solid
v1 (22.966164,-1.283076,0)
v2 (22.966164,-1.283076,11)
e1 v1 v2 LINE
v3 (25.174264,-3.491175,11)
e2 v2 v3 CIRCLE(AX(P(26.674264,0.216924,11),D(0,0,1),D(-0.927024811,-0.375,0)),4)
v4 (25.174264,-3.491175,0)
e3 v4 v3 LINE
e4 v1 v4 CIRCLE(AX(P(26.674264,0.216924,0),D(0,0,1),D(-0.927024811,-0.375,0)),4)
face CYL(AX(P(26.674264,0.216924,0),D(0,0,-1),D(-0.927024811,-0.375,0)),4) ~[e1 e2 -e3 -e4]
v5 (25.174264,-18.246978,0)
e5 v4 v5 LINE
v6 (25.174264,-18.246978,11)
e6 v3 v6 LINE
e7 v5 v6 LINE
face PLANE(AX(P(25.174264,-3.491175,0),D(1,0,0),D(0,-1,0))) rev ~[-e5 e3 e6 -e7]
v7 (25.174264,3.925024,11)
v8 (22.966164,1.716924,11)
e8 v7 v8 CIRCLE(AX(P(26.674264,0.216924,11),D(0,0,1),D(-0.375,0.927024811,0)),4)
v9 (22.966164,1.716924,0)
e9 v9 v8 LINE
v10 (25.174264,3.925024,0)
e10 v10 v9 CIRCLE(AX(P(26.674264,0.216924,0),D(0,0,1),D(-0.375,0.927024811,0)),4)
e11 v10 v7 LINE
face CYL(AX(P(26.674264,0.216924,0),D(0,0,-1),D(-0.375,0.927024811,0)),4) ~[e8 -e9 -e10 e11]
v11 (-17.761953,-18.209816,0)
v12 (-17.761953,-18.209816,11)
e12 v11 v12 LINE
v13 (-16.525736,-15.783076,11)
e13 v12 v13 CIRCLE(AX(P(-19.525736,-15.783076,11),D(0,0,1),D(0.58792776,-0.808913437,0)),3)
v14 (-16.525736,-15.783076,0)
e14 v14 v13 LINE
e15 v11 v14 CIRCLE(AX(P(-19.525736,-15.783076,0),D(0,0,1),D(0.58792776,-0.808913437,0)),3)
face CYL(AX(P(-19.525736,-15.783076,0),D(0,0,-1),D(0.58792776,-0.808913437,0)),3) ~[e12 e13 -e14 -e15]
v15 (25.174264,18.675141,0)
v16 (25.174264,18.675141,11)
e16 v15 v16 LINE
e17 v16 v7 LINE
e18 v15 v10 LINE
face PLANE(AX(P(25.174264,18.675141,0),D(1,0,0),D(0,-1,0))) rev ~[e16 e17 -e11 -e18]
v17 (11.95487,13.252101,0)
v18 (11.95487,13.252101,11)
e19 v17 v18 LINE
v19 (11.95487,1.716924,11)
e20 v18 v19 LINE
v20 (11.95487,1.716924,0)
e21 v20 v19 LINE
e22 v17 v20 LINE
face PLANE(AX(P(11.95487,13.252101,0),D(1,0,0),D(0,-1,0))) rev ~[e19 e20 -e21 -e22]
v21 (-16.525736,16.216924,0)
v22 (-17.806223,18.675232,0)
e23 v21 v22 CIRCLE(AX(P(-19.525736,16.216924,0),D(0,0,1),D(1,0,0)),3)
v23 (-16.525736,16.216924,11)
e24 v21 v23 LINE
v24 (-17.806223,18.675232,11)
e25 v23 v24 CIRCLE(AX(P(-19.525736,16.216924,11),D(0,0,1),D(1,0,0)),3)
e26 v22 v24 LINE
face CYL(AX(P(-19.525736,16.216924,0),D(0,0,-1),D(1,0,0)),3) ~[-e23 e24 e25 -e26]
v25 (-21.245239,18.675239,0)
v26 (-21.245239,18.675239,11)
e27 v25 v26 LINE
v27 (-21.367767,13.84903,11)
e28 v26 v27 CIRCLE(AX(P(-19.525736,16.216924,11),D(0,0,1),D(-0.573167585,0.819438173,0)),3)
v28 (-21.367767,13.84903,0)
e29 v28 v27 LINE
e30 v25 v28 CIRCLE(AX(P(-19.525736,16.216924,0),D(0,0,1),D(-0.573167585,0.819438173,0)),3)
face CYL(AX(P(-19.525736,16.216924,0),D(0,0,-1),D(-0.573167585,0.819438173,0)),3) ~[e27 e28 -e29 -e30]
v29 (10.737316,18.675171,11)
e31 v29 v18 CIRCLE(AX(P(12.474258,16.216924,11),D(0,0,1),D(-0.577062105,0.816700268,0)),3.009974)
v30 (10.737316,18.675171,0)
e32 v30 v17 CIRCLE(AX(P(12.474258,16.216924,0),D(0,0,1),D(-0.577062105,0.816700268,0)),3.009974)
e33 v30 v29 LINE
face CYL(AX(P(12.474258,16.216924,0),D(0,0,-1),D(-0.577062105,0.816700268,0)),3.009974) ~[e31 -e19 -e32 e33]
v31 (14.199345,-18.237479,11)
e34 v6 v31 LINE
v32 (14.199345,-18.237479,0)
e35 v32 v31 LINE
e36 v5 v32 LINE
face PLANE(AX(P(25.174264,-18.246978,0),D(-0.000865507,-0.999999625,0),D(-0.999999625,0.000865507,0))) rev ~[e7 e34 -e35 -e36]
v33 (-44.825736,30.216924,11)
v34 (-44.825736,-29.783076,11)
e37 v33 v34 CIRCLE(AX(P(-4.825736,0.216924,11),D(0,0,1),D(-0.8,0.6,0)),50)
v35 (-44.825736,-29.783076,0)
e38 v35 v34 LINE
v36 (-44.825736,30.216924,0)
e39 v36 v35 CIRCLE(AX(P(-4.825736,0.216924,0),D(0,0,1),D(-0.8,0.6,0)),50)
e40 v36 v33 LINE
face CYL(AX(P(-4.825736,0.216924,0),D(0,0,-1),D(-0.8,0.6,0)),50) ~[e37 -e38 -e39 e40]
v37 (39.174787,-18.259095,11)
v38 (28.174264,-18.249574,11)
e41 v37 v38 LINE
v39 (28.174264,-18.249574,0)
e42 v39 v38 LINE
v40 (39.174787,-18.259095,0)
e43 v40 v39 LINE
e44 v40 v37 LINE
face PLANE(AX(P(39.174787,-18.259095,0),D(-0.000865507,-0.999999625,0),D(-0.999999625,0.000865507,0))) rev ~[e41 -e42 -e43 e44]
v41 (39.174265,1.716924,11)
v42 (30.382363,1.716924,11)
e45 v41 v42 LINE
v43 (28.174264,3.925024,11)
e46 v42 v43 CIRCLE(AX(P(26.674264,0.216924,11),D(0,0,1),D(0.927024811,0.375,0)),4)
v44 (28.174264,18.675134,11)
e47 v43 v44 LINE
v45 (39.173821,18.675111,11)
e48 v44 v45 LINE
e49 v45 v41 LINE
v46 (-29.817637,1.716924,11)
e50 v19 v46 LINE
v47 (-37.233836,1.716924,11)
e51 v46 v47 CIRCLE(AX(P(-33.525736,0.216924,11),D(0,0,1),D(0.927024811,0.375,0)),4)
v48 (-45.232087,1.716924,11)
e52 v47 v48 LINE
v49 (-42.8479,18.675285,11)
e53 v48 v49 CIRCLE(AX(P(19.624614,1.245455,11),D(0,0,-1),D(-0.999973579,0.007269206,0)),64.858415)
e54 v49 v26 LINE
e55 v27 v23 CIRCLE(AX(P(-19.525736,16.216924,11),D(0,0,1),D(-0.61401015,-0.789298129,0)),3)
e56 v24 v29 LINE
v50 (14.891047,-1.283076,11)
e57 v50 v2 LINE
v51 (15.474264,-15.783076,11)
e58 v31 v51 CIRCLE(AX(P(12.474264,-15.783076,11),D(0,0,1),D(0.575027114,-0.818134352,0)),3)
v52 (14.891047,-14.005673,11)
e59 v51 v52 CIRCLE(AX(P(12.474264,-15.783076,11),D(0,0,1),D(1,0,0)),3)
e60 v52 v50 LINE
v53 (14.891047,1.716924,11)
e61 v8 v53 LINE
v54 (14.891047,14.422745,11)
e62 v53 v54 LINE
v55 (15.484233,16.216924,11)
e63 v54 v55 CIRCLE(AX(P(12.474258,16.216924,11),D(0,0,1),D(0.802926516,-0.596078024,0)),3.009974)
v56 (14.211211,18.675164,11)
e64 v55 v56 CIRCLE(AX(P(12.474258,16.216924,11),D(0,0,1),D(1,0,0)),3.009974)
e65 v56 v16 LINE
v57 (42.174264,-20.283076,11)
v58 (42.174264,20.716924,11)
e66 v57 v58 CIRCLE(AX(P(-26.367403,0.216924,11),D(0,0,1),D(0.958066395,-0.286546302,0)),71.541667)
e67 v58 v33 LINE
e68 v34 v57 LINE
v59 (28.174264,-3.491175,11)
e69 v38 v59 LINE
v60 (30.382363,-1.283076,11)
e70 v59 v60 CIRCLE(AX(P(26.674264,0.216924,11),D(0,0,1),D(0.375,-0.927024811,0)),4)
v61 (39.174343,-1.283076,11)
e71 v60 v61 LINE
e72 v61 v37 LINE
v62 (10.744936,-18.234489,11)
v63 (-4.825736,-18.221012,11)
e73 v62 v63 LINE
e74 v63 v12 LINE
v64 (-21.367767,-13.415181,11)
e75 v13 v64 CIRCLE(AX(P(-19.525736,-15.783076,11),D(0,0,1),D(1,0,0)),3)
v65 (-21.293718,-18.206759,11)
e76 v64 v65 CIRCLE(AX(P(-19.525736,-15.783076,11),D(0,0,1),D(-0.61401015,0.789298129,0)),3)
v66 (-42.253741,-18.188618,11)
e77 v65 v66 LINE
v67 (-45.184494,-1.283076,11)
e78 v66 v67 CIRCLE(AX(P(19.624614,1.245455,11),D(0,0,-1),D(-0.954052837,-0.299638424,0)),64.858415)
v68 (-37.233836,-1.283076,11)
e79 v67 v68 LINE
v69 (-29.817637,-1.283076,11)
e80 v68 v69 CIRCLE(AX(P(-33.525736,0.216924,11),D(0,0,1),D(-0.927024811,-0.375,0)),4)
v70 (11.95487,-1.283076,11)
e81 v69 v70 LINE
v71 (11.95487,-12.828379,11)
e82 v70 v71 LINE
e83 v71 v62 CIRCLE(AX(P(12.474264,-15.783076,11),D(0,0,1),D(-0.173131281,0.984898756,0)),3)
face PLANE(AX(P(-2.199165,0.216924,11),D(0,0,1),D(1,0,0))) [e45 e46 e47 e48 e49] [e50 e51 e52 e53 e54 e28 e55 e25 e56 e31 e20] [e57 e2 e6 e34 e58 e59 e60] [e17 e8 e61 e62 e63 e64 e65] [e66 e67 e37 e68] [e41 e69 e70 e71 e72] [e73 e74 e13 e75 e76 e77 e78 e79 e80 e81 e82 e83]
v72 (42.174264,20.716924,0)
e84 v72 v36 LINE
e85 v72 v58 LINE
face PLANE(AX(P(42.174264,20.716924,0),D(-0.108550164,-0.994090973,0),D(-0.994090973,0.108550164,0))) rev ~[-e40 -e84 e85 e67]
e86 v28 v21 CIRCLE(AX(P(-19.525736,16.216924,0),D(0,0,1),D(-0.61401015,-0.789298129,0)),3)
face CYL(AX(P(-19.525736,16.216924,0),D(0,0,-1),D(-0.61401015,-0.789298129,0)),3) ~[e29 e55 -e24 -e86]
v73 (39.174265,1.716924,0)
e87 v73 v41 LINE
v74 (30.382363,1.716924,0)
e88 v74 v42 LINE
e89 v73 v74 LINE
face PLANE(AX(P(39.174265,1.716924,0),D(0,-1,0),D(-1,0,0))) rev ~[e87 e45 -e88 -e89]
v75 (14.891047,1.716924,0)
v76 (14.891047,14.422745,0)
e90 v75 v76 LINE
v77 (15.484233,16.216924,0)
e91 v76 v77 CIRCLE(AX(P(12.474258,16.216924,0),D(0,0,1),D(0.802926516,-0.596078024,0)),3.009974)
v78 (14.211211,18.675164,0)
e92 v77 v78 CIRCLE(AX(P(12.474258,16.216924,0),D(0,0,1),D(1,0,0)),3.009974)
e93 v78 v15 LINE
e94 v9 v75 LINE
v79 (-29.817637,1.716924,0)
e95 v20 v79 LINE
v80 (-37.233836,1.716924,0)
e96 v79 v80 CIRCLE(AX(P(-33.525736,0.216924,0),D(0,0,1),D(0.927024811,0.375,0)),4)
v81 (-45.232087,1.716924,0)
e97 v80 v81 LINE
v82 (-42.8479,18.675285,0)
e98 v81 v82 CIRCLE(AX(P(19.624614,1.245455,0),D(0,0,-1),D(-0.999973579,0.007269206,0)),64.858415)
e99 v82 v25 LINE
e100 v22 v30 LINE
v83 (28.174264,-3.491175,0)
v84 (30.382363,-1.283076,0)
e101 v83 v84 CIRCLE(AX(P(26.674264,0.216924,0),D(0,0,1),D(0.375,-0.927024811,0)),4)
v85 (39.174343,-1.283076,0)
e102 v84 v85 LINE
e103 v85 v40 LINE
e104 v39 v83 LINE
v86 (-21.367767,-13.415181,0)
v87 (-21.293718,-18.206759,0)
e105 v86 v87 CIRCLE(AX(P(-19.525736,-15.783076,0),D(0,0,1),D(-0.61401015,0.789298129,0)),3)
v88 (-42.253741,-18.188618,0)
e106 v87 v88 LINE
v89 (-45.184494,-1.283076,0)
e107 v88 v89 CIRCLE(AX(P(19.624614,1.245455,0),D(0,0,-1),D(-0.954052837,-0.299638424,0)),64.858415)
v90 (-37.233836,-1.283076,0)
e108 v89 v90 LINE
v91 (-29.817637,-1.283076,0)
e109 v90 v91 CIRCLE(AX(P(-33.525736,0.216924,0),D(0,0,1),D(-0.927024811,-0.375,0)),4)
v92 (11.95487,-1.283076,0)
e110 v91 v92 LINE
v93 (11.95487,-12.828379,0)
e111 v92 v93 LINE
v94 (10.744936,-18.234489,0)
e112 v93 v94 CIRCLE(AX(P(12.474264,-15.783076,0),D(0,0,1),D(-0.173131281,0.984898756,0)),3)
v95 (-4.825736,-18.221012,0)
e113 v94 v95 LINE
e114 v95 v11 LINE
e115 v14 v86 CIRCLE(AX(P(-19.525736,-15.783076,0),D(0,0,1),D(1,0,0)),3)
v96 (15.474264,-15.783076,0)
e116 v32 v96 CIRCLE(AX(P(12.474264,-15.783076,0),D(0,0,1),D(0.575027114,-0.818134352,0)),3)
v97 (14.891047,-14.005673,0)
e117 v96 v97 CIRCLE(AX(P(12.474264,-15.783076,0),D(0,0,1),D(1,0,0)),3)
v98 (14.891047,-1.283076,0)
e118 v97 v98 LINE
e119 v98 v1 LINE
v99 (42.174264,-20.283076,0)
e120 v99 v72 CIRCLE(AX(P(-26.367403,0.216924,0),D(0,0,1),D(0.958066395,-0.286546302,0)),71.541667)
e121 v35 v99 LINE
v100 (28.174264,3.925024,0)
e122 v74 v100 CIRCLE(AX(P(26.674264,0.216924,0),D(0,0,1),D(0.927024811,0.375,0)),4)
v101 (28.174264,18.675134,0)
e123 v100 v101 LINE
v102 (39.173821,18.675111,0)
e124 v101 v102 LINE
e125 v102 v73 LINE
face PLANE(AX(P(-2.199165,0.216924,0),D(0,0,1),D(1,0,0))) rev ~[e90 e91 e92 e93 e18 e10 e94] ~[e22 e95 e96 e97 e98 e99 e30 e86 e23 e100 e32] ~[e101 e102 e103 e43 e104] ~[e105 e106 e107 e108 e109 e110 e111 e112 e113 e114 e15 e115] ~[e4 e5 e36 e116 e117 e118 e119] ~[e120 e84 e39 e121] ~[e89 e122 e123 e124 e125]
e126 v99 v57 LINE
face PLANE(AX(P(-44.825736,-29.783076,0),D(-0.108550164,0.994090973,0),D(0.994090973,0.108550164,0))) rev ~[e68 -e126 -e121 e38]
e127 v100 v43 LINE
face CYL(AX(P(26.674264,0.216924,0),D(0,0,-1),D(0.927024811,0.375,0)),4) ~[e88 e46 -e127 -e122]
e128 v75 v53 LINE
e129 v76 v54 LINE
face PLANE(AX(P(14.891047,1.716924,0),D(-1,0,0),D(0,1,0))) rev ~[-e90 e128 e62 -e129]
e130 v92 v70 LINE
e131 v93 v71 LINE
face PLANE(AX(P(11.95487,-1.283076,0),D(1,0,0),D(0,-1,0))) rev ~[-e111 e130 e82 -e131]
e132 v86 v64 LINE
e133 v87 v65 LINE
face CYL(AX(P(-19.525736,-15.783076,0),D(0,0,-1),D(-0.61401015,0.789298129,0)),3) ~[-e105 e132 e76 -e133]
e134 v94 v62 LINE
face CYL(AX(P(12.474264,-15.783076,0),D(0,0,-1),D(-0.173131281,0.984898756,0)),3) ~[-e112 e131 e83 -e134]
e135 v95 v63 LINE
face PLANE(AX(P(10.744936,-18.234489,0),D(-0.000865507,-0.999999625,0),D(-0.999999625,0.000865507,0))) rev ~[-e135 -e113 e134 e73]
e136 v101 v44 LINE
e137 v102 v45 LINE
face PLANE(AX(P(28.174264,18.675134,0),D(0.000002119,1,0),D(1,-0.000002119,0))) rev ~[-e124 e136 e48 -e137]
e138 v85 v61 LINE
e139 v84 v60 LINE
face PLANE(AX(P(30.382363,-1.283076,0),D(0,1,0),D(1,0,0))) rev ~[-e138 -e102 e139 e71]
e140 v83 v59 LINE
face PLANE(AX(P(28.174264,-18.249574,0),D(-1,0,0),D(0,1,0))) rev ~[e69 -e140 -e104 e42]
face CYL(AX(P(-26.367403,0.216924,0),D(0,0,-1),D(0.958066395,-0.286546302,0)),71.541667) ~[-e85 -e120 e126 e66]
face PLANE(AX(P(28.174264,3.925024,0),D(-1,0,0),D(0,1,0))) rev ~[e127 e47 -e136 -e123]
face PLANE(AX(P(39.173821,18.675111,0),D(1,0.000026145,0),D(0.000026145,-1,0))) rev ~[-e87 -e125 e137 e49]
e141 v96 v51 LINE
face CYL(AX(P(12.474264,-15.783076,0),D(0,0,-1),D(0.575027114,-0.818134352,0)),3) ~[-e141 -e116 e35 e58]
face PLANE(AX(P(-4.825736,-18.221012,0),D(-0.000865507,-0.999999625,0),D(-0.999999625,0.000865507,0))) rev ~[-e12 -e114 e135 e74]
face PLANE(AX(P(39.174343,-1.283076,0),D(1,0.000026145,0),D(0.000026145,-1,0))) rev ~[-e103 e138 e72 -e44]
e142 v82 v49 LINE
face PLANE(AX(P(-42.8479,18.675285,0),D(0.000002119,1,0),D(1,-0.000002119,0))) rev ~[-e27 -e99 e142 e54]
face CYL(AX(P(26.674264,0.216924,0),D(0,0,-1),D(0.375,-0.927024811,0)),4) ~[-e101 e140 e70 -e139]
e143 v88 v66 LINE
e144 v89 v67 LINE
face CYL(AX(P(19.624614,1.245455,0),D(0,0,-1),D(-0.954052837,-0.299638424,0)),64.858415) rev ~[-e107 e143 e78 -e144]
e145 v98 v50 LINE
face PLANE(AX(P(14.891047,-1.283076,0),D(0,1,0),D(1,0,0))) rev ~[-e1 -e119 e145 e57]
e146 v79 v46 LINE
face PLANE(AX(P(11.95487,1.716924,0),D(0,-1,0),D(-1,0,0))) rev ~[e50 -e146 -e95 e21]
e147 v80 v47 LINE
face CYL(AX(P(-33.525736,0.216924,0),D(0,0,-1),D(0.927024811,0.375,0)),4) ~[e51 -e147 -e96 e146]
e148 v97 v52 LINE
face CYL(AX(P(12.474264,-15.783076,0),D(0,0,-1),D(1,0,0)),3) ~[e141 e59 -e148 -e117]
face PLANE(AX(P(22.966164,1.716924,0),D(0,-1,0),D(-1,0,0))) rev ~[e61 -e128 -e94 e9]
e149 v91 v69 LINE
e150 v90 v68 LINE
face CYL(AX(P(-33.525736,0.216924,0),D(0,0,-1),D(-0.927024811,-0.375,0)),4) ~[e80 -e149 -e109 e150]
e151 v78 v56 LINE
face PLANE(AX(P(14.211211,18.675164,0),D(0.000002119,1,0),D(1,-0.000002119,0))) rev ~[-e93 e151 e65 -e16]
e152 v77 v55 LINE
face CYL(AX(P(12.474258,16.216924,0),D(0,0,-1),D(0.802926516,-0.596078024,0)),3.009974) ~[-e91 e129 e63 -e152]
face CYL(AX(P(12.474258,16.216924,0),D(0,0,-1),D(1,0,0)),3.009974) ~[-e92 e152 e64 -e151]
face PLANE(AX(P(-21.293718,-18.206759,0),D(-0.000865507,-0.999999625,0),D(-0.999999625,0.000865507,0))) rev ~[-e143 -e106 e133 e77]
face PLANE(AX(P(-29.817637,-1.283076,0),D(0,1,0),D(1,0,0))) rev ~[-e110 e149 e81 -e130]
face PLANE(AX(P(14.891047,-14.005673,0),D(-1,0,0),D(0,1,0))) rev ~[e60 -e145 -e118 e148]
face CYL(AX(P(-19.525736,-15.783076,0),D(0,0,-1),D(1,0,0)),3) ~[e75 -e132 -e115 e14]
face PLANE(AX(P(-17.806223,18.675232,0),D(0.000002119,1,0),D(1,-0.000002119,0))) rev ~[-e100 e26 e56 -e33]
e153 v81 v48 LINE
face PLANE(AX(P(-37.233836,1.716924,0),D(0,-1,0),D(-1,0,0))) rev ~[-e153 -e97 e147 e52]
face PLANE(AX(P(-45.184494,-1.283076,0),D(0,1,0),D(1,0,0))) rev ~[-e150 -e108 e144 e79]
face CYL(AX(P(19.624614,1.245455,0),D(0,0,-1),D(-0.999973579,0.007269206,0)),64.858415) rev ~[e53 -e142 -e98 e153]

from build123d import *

# Parameters (mm, degrees)
F0_W     = 16.7806061562
F0_H     = 3
F0_R     = 1.3
F0_W_2   = 2.9361768566
F1_DEPTH = 11


with BuildPart() as f1:
    # F0 (on Top) → F1 (new body)
    with BuildSketch(Plane.XY):
        with BuildLine():
            ThreePointArc((-45.8257364572, 20.7169244225), (-48.8257364572, 0.2169244225), (-45.8257364572, -20.2830755775))
            Line((-45.8257364572, -20.2830755775), (42.1742635428, -20.2830755775))
            Line((42.1742635428, -20.2830755775), (42.1742635428, 20.7169244225))
            Line((42.1742635428, 20.7169244225), (-45.8257364572, 20.7169244225))
        make_face()
        with BuildLine():
            Line((28.1742635428, -18.2495740318), (25.1742635428, -18.2469775091))
            Line((25.1742635428, -18.2469775091), (14.1993448848, -18.237478634))
            ThreePointArc((14.1993448848, -18.237478634), (12.4716670211, -18.7830744539), (10.7449361797, -18.2344888171))
            Line((10.7449361797, -18.2344888171), (-4.8257364572, -18.2210122822))
            Line((-4.8257364572, -18.2210122822), (-17.7619531763, -18.2098158887))
            ThreePointArc((-17.7619531763, -18.2098158887), (-19.5283329789, -18.7830744539), (-21.2937178166, -18.2067591197))
            Line((-21.2937178166, -18.2067591197), (-42.2537405073, -18.1886180616))
            ThreePointArc((-42.2537405073, -18.1886180616), (-44.2806098516, -9.8331874592), (-45.1844940816, -1.2830755775))
            ThreePointArc((-45.1844940816, -1.2830755775), (-45.2256405593, 0.2166491767), (-45.2320870806, 1.7169244225))
            ThreePointArc((-45.2320870806, 1.7169244225), (-44.6021619414, 10.2751402015), (-42.8478999843, 18.6752847233))
            Line((-42.8478999843, 18.6752847233), (-21.2452392134, 18.6752389409))
            ThreePointArc((-21.2452392134, 18.6752389409), (-19.5257300993, 19.2169244225), (-17.8062232813, 18.6752316526))
            Line((-17.8062232813, 18.6752316526), (-4.8257364572, 18.6752041432))
            Line((-4.8257364572, 18.6752041432), (10.7373164071, 18.6751711606))
            ThreePointArc((10.7373164071, 18.6751711606), (12.4742648349, 19.226898626), (14.2112109241, 18.6751637984))
            Line((14.2112109241, 18.6751637984), (25.1742635428, 18.6751405645))
            Line((25.1742635428, 18.6751405645), (28.1742635428, 18.6751342066))
            Line((28.1742635428, 18.6751342066), (39.1738213035, 18.6751108953))
            Line((39.1738213035, 18.6751108953), (39.1742646816, 1.7169244225))
            Line((39.1742646816, 1.7169244225), (39.1743431177, -1.2830755775))
            Line((39.1743431177, -1.2830755775), (39.174786962, -18.259095068))
            Line((39.174786962, -18.259095068), (28.1742635428, -18.2495740318))
        make_face(mode=Mode.SUBTRACT)
        with BuildLine():
            Line((42.1742635428, -20.2830755775), (-45.8257364572, -20.2830755775))
            ThreePointArc((-45.8257364572, -20.2830755775), (-48.8257364572, 0.2169244225), (-45.8257364572, 20.7169244225))
            Line((-45.8257364572, 20.7169244225), (42.1742635428, 20.7169244225))
            Line((42.1742635428, 20.7169244225), (-44.8257364572, 30.2169244225))
            ThreePointArc((-44.8257364572, 30.2169244225), (-54.8257364572, 0.2169244225), (-44.8257364572, -29.7830755775))
            Line((-44.8257364572, -29.7830755775), (42.1742635428, -20.2830755775))
        make_face()
        with BuildLine():
            Line((42.1742635428, 20.7169244225), (42.1742635428, -20.2830755775))
            ThreePointArc((42.1742635428, -20.2830755775), (45.1742635428, 0.2169244225), (42.1742635428, 20.7169244225))
        make_face()
        with BuildLine():
            Line((-21.3677669063, -1.2830755775), (-4.8257364572, -1.2830755775))
            Line((-4.8257364572, -1.2830755775), (-4.8257364572, 1.7169244225))
            Line((-4.8257364572, 1.7169244225), (-21.3677669063, 1.7169244225))
            Line((-21.3677669063, 1.7169244225), (-29.8176372136, 1.7169244225))
            ThreePointArc((-29.8176372136, 1.7169244225), (-29.5993897472, 0.9809934723), (-29.5257364572, 0.2169244225))
            ThreePointArc((-29.5257364572, 0.2169244225), (-29.5993897472, -0.5471446273), (-29.8176372136, -1.2830755775))
            Line((-29.8176372136, -1.2830755775), (-21.3677669063, -1.2830755775))
        make_face()
        with Locations((3.5645666209, 0.2169244225)):
            Rectangle(F0_W, F0_H)
        with BuildLine():
            Line((25.1742635428, -3.4911748211), (25.1742635428, -18.2469775091))
            Line((25.1742635428, -18.2469775091), (28.1742635428, -18.2495740318))
            Line((28.1742635428, -18.2495740318), (28.1742635428, -3.4911748211))
            ThreePointArc((28.1742635428, -3.4911748211), (26.6742635428, -3.7830755775), (25.1742635428, -3.4911748211))
        make_face()
        with BuildLine():
            Line((25.1742635428, 18.6751405645), (25.1742635428, 3.925023666))
            ThreePointArc((25.1742635428, 3.925023666), (26.6742635428, 4.2169244225), (28.1742635428, 3.925023666))
            Line((28.1742635428, 3.925023666), (28.1742635428, 18.6751342066))
            Line((28.1742635428, 18.6751342066), (25.1742635428, 18.6751405645))
        make_face()
        with BuildLine():
            Line((11.954869699, -1.2830755775), (11.954869699, -12.8283793097))
            ThreePointArc((11.954869699, -12.8283793097), (13.5907430688, -12.9985696127), (14.8910465556, -14.0056730151))
            Line((14.8910465556, -14.0056730151), (14.8910465556, -1.2830755775))
            Line((14.8910465556, -1.2830755775), (11.954869699, -1.2830755775))
        make_face()
        with BuildLine():
            Line((11.954869699, 1.7169244225), (14.8910465556, 1.7169244225))
            Line((14.8910465556, 1.7169244225), (14.8910465556, 14.4227449479))
            ThreePointArc((14.8910465556, 14.4227449479), (13.5889929924, 13.4209788545), (11.954869699, 13.2521006461))
            Line((11.954869699, 13.2521006461), (11.954869699, 1.7169244225))
        make_face()
        with BuildLine():
            ThreePointArc((11.954869699, 13.2521006461), (13.5889929924, 13.4209788545), (14.8910465556, 14.4227449479))
            ThreePointArc((14.8910465556, 14.4227449479), (15.3320910736, 15.2720765855), (15.4842326594, 16.2169244225))
            ThreePointArc((15.4842326594, 16.2169244225), (15.1470965382, 17.6010780599), (14.2112109241, 18.6751637984))
            Line((14.2112109241, 18.6751637984), (10.7373164071, 18.6751711606))
            ThreePointArc((10.7373164071, 18.6751711606), (9.5373926729, 15.5575580004), (11.954869699, 13.2521006461))
        make_face()
        with Locations((12.4742634653, 16.2169244225)):
            Circle(F0_R, mode=Mode.SUBTRACT)
        with BuildLine():
            ThreePointArc((-21.2452392134, 18.6752389409), (-22.5247701001, 16.2930638272), (-21.3677669063, 13.8490300362))
            ThreePointArc((-21.3677669063, 13.8490300362), (-18.2078008266, 13.5219205869), (-16.5257364572, 16.2169244225))
            ThreePointArc((-16.5257364572, 16.2169244225), (-16.8650467414, 17.6028285448), (-17.8062232813, 18.6752316526))
            Line((-17.8062232813, 18.6752316526), (-21.2452392134, 18.6752389409))
        make_face()
        with Locations((-19.5257364572, 16.2169244225)):
            Circle(F0_R, mode=Mode.SUBTRACT)
        with BuildLine():
            Line((10.7449361797, -18.2344888171), (14.1993448848, -18.237478634))
            ThreePointArc((14.1993448848, -18.237478634), (15.1365223606, -17.1659631315), (15.4742635428, -15.7830755775))
            ThreePointArc((15.4742635428, -15.7830755775), (15.3247327181, -14.8477545199), (14.8910465556, -14.0056730151))
            ThreePointArc((14.8910465556, -14.0056730151), (13.5907430688, -12.9985696127), (11.954869699, -12.8283793097))
            ThreePointArc((11.954869699, -12.8283793097), (9.5466891598, -15.1278594056), (10.7449361797, -18.2344888171))
        make_face()
        with Locations((12.4742635428, -15.7830755775)):
            Circle(F0_R, mode=Mode.SUBTRACT)
        with BuildLine():
            Line((-21.2937178166, -18.2067591197), (-17.7619531763, -18.2098158887))
            ThreePointArc((-17.7619531763, -18.2098158887), (-16.852596932, -17.1448116308), (-16.5257364572, -15.7830755775))
            ThreePointArc((-16.5257364572, -15.7830755775), (-18.2078008266, -13.088071742), (-21.3677669063, -13.4151811912))
            ThreePointArc((-21.3677669063, -13.4151811912), (-22.5253782817, -15.8294320701), (-21.2937178166, -18.2067591197))
        make_face()
        with Locations((-19.5257364572, -15.7830755775)):
            Circle(F0_R, mode=Mode.SUBTRACT)
        with BuildLine():
            Line((30.3823627864, -1.2830755775), (39.1743431177, -1.2830755775))
            Line((39.1743431177, -1.2830755775), (39.1742646816, 1.7169244225))
            Line((39.1742646816, 1.7169244225), (30.3823627864, 1.7169244225))
            ThreePointArc((30.3823627864, 1.7169244225), (30.6742635428, 0.2169244225), (30.3823627864, -1.2830755775))
        make_face()
        with BuildLine():
            Line((14.8910465556, -1.2830755775), (22.9661642993, -1.2830755775))
            ThreePointArc((22.9661642993, -1.2830755775), (22.6742635428, 0.2169244225), (22.9661642993, 1.7169244225))
            Line((22.9661642993, 1.7169244225), (14.8910465556, 1.7169244225))
            Line((14.8910465556, 1.7169244225), (14.8910465556, -1.2830755775))
        make_face()
        with BuildLine():
            Line((-37.2338357007, -1.2830755775), (-29.8176372136, -1.2830755775))
            ThreePointArc((-29.8176372136, -1.2830755775), (-29.5993897472, -0.5471446273), (-29.5257364572, 0.2169244225))
            ThreePointArc((-29.5257364572, 0.2169244225), (-29.5993897472, 0.9809934723), (-29.8176372136, 1.7169244225))
            Line((-29.8176372136, 1.7169244225), (-37.2338357007, 1.7169244225))
            ThreePointArc((-37.2338357007, 1.7169244225), (-37.5257364572, 0.2169244225), (-37.2338357007, -1.2830755775))
        make_face()
        with Locations((-33.5257364572, 0.2169244225)):
            Circle(F0_R, mode=Mode.SUBTRACT)
        with BuildLine():
            ThreePointArc((22.9661642993, 1.7169244225), (22.6742635428, 0.2169244225), (22.9661642993, -1.2830755775))
            Line((22.9661642993, -1.2830755775), (30.3823627864, -1.2830755775))
            ThreePointArc((30.3823627864, -1.2830755775), (30.6742635428, 0.2169244225), (30.3823627864, 1.7169244225))
            Line((30.3823627864, 1.7169244225), (22.9661642993, 1.7169244225))
        make_face()
        with Locations((26.6742635428, 0.2169244225)):
            Circle(F0_R, mode=Mode.SUBTRACT)
        with BuildLine():
            ThreePointArc((-45.2320870806, 1.7169244225), (-45.2256405593, 0.2166491767), (-45.1844940816, -1.2830755775))
            Line((-45.1844940816, -1.2830755775), (-37.2338357007, -1.2830755775))
            ThreePointArc((-37.2338357007, -1.2830755775), (-37.5257364572, 0.2169244225), (-37.2338357007, 1.7169244225))
            Line((-37.2338357007, 1.7169244225), (-45.2320870806, 1.7169244225))
        make_face()
        with BuildLine():
            ThreePointArc((-37.2338357007, -1.2830755775), (-33.5257364572, -3.7830755775), (-29.8176372136, -1.2830755775))
            Line((-29.8176372136, -1.2830755775), (-37.2338357007, -1.2830755775))
        make_face()
        with BuildLine():
            Line((-37.2338357007, 1.7169244225), (-29.8176372136, 1.7169244225))
            ThreePointArc((-29.8176372136, 1.7169244225), (-33.5257364572, 4.2169244225), (-37.2338357007, 1.7169244225))
        make_face()
        with BuildLine():
            ThreePointArc((25.1742635428, 3.925023666), (23.8458364181, 3.0453515472), (22.9661642993, 1.7169244225))
            Line((22.9661642993, 1.7169244225), (30.3823627864, 1.7169244225))
            ThreePointArc((30.3823627864, 1.7169244225), (29.5026906676, 3.0453515472), (28.1742635428, 3.925023666))
            ThreePointArc((28.1742635428, 3.925023666), (26.6742635428, 4.2169244225), (25.1742635428, 3.925023666))
        make_face()
        with BuildLine():
            ThreePointArc((22.9661642993, -1.2830755775), (23.8458364181, -2.6115027023), (25.1742635428, -3.4911748211))
            ThreePointArc((25.1742635428, -3.4911748211), (26.6742635428, -3.7830755775), (28.1742635428, -3.4911748211))
            ThreePointArc((28.1742635428, -3.4911748211), (29.5026906676, -2.6115027023), (30.3823627864, -1.2830755775))
            Line((30.3823627864, -1.2830755775), (22.9661642993, -1.2830755775))
        make_face()
        with Locations((13.4229581273, 0.2169244225)):
            Rectangle(F0_W_2, F0_H)
        with Locations((12.4742634653, 16.2169244225)):
            Circle(F0_R)
        with Locations((-19.5257364572, 16.2169244225)):
            Circle(F0_R)
        with Locations((-19.5257364572, -15.7830755775)):
            Circle(F0_R)
        with Locations((12.4742635428, -15.7830755775)):
            Circle(F0_R)
        with Locations((-33.5257364572, 0.2169244225)):
            Circle(F0_R)
        with Locations((26.6742635428, 0.2169244225)):
            Circle(F0_R)
        with BuildLine():
            ThreePointArc((-21.2937178166, -18.2067591197), (-19.5283329789, -18.7830744539), (-17.7619531763, -18.2098158887))
            Line((-17.7619531763, -18.2098158887), (-21.2937178166, -18.2067591197))
        make_face()
        with BuildLine():
            Line((10.7373164071, 18.6751711606), (14.2112109241, 18.6751637984))
            ThreePointArc((14.2112109241, 18.6751637984), (12.4742648349, 19.226898626), (10.7373164071, 18.6751711606))
        make_face()
        with BuildLine():
            ThreePointArc((10.7449361797, -18.2344888171), (12.4716670211, -18.7830744539), (14.1993448848, -18.237478634))
            Line((14.1993448848, -18.237478634), (10.7449361797, -18.2344888171))
        make_face()
        with BuildLine():
            Line((-21.2452392134, 18.6752389409), (-17.8062232813, 18.6752316526))
            ThreePointArc((-17.8062232813, 18.6752316526), (-19.5257300993, 19.2169244225), (-21.2452392134, 18.6752389409))
        make_face()
    extrude(amount=F1_DEPTH)


solid = f1.part
